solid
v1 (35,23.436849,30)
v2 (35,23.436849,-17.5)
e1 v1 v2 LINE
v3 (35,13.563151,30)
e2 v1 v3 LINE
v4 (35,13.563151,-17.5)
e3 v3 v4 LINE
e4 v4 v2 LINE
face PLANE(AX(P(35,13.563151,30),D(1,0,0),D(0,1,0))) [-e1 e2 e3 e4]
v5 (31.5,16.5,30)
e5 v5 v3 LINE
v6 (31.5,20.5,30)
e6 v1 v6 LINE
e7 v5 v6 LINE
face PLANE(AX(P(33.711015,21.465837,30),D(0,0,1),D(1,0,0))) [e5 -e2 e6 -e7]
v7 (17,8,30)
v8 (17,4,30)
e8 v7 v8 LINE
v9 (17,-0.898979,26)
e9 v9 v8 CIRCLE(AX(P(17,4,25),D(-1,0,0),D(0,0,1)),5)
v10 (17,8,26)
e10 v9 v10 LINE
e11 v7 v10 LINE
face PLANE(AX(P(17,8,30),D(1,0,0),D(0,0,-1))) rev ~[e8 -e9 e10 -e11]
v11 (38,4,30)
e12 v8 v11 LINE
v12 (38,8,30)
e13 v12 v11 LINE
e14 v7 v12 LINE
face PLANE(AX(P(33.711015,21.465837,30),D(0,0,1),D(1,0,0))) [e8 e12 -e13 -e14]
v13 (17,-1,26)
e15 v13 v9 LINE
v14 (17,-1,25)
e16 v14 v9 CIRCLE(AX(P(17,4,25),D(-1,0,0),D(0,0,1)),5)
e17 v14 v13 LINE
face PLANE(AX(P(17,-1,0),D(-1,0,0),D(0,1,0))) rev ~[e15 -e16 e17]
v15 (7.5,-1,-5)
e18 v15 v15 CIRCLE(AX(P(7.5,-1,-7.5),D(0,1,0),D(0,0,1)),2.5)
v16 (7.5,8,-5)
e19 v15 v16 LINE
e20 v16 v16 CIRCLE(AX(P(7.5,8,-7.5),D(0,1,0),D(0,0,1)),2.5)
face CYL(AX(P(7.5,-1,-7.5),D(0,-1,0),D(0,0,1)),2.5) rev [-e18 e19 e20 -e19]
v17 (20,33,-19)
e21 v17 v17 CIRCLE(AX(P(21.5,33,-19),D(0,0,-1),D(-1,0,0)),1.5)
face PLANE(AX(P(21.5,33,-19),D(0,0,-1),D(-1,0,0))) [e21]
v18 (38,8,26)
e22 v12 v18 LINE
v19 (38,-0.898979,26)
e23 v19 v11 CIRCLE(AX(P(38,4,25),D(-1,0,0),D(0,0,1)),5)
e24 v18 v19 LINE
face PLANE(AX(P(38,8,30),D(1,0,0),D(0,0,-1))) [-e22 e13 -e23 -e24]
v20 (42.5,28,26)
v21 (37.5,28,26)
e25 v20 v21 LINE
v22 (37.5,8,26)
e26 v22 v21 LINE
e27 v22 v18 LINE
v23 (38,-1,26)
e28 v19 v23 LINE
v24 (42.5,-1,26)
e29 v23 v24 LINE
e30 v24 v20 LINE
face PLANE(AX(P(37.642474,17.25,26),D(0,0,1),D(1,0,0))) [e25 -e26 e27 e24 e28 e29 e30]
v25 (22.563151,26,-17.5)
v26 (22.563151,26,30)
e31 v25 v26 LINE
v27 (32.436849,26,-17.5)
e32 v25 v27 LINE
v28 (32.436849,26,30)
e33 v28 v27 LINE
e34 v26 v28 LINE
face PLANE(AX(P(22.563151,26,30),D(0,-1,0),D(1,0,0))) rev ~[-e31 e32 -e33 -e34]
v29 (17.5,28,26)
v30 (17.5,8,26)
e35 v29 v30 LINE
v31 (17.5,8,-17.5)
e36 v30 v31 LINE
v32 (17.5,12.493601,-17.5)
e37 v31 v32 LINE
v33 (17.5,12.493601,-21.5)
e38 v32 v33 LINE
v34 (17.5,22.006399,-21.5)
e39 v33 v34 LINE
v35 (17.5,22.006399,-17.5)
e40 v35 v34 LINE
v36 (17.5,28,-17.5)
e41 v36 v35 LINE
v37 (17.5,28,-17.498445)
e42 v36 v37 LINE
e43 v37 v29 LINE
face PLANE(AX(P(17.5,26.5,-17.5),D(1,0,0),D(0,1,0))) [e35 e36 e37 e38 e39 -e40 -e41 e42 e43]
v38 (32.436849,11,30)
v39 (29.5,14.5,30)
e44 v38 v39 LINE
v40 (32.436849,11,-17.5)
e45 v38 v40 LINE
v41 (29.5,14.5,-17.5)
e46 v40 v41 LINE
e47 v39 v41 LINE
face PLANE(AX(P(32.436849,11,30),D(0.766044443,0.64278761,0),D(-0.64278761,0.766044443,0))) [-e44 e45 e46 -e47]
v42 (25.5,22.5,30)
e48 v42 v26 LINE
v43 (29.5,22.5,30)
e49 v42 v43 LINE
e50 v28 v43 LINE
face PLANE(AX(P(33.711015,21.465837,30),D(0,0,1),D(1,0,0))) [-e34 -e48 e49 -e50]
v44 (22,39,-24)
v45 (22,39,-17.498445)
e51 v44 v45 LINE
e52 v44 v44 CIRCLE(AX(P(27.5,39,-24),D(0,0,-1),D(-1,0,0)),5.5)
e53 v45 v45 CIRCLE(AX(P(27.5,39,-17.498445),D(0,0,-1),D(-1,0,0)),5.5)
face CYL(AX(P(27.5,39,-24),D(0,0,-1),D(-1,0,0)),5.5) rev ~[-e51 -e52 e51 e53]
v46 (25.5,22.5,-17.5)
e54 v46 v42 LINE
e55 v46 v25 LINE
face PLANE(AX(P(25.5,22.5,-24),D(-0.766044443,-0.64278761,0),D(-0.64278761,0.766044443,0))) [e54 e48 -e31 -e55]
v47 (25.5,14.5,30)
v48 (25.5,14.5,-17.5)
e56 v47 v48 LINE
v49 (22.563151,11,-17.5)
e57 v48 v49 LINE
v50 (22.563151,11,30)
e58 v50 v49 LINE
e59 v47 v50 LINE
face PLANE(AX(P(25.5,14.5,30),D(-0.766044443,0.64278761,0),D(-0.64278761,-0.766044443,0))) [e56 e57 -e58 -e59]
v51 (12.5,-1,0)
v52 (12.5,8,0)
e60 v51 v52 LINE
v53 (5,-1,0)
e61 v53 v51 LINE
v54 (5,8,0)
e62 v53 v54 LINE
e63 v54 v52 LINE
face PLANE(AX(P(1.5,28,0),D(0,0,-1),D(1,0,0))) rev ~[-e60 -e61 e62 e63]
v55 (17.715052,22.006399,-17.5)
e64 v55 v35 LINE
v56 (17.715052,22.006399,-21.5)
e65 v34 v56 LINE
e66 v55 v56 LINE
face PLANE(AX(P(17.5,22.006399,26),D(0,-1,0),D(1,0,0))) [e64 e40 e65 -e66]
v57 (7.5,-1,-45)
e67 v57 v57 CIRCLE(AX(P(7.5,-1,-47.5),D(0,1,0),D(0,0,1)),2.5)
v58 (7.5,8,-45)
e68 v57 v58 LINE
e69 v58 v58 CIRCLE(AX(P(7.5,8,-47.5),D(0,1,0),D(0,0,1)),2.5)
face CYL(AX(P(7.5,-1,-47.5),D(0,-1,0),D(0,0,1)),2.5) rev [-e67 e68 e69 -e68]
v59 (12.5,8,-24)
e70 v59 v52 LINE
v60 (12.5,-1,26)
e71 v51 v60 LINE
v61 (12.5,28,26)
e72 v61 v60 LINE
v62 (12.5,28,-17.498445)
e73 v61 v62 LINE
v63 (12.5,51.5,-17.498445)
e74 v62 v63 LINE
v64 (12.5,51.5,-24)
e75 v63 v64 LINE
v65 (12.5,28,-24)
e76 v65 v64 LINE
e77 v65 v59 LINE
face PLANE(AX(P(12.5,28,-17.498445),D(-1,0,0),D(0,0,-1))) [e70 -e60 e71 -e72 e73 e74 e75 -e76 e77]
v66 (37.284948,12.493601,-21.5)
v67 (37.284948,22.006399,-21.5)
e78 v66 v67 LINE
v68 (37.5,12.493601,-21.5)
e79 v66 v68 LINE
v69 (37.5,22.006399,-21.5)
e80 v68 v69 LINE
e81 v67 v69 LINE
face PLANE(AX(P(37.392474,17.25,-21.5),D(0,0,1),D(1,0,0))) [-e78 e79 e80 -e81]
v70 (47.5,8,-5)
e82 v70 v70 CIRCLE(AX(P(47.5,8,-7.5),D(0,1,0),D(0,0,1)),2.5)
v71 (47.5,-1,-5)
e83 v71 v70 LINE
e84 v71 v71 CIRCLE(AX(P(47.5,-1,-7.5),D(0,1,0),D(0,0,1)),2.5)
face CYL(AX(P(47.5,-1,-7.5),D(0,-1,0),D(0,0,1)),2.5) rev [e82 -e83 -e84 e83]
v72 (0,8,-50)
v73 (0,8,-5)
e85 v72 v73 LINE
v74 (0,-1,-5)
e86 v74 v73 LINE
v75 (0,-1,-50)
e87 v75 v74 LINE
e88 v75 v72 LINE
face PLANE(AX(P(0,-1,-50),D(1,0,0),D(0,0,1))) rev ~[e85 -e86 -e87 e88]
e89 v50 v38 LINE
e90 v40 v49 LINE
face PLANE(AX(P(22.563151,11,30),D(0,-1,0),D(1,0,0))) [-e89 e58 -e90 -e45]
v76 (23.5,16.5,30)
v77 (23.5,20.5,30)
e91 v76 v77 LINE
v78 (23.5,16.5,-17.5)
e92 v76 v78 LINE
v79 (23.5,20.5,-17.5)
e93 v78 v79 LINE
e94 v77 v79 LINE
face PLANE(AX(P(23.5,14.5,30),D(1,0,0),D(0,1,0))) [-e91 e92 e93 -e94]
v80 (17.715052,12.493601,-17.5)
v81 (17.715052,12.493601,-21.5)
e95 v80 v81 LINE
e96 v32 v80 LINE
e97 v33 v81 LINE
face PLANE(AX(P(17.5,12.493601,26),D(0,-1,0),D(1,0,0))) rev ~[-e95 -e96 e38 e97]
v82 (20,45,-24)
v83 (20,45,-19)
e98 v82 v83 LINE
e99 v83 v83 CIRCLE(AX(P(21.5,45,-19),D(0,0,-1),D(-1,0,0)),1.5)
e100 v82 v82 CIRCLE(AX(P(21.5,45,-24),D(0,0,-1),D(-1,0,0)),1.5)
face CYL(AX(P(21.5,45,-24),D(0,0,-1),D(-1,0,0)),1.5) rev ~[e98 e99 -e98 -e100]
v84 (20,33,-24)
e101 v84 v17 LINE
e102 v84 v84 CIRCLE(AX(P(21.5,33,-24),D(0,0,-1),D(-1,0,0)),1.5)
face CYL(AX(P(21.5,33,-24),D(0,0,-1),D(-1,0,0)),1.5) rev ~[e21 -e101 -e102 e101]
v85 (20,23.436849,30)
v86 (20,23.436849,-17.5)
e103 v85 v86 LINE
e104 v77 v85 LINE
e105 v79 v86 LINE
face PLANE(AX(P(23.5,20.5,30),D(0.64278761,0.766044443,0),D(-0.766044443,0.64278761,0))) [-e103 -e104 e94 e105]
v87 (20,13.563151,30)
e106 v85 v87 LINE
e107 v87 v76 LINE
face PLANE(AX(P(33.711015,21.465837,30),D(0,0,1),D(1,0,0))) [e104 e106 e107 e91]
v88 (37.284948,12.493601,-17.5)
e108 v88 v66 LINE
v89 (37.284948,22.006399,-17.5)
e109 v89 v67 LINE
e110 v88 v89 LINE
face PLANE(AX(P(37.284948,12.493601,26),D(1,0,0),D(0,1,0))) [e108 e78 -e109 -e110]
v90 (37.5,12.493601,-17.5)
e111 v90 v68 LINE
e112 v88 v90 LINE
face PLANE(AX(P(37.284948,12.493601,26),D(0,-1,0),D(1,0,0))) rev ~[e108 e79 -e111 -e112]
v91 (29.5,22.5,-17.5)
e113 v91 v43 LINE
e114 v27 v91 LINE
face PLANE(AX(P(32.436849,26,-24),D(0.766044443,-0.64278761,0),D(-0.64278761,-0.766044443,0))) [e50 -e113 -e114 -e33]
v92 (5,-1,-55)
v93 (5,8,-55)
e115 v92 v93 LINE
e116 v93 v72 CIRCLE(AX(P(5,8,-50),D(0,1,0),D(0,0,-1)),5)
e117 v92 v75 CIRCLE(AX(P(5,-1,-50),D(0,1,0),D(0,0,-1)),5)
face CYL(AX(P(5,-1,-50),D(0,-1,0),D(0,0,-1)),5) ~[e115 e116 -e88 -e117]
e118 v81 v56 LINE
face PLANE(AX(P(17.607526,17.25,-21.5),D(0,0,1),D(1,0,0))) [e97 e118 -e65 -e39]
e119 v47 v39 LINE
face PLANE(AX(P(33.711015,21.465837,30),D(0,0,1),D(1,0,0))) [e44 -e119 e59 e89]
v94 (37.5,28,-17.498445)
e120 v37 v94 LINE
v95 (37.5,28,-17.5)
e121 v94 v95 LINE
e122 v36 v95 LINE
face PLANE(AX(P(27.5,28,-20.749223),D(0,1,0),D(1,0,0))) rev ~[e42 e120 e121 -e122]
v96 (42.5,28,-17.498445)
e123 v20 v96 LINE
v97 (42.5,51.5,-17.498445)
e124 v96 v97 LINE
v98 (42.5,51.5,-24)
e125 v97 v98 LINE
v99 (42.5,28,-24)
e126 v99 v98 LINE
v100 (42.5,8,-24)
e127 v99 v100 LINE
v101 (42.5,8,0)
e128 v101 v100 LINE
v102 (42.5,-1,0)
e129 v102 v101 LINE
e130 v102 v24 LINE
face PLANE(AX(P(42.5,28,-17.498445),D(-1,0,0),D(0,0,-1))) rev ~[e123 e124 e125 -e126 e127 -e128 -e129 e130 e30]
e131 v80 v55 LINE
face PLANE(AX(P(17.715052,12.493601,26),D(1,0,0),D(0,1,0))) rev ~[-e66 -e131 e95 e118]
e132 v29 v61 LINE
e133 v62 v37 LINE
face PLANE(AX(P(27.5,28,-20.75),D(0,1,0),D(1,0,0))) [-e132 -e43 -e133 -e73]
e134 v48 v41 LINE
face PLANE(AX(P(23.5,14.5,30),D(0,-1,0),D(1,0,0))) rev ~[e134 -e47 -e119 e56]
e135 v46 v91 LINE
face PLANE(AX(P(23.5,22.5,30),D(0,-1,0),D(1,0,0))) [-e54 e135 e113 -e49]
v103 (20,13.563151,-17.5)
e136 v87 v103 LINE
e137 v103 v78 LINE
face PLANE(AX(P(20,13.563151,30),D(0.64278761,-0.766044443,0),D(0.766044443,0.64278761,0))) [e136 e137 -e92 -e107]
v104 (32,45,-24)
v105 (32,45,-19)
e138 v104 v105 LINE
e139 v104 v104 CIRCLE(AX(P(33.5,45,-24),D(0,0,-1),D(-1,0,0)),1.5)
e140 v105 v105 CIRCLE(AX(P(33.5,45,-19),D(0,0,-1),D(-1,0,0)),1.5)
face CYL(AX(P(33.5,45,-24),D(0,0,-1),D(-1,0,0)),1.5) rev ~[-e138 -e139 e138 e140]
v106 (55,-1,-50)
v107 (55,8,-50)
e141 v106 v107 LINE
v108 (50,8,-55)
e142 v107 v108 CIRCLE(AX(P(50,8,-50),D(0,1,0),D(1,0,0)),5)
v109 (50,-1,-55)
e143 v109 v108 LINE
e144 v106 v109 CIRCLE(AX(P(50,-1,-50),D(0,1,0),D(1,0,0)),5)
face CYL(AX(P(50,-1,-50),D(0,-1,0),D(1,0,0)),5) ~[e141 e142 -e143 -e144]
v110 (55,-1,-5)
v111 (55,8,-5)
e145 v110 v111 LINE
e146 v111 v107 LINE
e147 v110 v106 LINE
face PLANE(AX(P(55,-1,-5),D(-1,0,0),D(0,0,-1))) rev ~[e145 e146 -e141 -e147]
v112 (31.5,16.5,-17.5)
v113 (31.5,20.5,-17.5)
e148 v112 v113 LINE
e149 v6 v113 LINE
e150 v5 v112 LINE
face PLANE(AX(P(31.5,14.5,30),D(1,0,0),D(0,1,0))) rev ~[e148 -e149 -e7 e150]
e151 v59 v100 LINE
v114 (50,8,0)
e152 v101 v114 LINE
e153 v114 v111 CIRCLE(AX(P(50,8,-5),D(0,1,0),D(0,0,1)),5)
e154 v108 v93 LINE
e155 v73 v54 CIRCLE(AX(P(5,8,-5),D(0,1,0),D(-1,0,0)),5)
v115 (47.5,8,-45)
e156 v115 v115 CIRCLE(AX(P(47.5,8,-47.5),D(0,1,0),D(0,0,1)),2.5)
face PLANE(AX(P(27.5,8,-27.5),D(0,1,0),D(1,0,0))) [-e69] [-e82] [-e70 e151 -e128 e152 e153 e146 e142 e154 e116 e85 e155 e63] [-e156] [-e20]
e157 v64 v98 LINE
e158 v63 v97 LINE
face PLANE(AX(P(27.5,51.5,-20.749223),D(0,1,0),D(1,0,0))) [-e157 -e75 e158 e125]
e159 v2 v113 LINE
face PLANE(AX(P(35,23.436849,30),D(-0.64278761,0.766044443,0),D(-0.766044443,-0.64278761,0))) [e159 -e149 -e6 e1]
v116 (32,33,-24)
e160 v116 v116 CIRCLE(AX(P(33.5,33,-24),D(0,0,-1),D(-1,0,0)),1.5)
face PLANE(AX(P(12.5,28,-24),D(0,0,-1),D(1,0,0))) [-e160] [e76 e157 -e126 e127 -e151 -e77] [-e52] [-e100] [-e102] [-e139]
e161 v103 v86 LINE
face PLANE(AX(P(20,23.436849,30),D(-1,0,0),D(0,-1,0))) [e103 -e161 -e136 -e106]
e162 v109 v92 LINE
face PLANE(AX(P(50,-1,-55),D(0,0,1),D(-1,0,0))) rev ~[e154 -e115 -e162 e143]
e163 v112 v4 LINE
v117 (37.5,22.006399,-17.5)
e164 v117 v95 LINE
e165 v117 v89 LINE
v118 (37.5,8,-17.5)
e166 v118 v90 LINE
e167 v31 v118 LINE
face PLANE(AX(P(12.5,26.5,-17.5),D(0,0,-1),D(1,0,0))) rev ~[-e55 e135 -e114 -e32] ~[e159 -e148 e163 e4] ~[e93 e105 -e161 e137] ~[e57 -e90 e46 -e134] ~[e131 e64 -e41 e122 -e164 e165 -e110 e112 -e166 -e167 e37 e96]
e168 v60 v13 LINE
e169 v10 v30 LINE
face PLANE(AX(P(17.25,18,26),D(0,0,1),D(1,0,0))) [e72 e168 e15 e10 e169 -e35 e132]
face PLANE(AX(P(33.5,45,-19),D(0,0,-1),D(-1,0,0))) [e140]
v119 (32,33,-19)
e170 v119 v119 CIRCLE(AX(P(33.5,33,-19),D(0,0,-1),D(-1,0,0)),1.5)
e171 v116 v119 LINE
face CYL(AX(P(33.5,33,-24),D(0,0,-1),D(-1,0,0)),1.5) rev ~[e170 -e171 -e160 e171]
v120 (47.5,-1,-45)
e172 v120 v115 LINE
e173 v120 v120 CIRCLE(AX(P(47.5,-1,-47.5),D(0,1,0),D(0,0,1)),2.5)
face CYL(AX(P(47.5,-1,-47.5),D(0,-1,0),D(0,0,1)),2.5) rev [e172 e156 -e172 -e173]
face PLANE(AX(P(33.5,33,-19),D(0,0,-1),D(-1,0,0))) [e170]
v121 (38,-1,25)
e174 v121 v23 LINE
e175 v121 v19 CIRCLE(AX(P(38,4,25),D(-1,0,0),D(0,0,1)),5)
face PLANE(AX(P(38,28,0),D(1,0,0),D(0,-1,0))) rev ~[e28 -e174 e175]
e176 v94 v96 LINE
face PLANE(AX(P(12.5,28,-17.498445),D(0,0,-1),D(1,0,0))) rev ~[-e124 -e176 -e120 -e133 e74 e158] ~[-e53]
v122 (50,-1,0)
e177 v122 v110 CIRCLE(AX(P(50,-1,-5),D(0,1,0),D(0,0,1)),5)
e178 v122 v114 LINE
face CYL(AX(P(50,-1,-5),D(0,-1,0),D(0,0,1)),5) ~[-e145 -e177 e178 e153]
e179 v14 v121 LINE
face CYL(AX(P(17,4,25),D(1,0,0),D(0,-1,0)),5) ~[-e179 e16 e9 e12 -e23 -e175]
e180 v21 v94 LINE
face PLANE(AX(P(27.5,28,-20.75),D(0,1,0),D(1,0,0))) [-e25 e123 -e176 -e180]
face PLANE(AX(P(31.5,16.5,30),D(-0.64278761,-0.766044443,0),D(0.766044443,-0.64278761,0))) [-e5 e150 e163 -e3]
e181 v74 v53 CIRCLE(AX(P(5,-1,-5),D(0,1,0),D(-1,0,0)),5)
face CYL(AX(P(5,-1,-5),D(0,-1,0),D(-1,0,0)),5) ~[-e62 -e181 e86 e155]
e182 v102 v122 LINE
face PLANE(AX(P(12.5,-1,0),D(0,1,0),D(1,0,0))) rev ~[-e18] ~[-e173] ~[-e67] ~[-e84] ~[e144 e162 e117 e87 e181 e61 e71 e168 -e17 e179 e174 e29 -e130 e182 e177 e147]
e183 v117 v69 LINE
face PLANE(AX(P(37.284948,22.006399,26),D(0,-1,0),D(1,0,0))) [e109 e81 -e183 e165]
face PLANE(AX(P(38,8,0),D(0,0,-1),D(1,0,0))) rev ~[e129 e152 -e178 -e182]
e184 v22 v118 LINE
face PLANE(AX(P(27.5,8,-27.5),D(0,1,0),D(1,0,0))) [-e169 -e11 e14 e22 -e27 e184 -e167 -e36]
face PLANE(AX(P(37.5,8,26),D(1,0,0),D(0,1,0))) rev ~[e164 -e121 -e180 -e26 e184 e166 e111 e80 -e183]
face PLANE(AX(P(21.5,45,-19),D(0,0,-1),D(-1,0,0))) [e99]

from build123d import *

# Parameters (mm, degrees)
BOSS_EXTRUDE2_DEPTH       = 8
BOSS_EXTRUDE2_DEPTH_BACK  = 1
SKETCH1_R                 = 2.5
SKETCH5_W                 = 9
SKETCH5_H                 = 6.5
BOSS_EXTRUDE3_DEPTH       = 14.5
CUT_EXTRUDE4_DEPTH        = 1.5
SKETCH12_W                = 21
SKETCH12_H                = 30
BOSS_EXTRUDE7_DEPTH       = 9
SKETCH15_W                = 9
SKETCH15_H                = 6.5
BOSS_EXTRUDE8_DEPTH       = 3.5
BOSS_EXTRUDE9_DEPTH       = 54
FILLET4_R                 = 5
SKETCH18_W                = 9.873697418
SKETCH18_H                = 6.5
BOSS_EXTRUDE11_DEPTH      = 0.5
SKETCH20_W                = 4
SKETCH20_H                = 17.5
BOSS_EXTRUDE12_DEPTH      = 18
BOSS_EXTRUDE13_DEPTH      = 11
BOSS_EXTRUDE13_DEPTH_BACK = 4
SKETCH22_W                = 17.5
SKETCH22_H                = 4
SKETCH25_W                = 2
SKETCH25_H                = 17.5
BOSS_EXTRUDE14_DEPTH      = 41
SKETCH28_W                = 41
SKETCH28_H                = 45
BOSS_EXTRUDE15_DEPTH      = 2
SKETCH29_R                = 1.75
CUT_EXTRUDE8_DEPTH        = 9
BOSS_EXTRUDE16_DEPTH      = 9
BOSS_EXTRUDE16_DEPTH_BACK = 4
SKETCH30_W                = 17.5
SKETCH30_H                = 4
SKETCH31_R                = 10
CUT_EXTRUDE9_DEPTH        = 9
SKETCH32_W                = 13
SKETCH32_H                = 4
BOSS_EXTRUDE17_DEPTH      = 23.5
SKETCH33_W                = 0.5
SKETCH33_H                = 17.5
BOSS_EXTRUDE18_DEPTH      = 20
BOSS_EXTRUDE19_DEPTH      = 26
SKETCH35_W                = 9.873697418
SKETCH35_H                = 0.5
BOSS_EXTRUDE20_DEPTH      = 47.5
BOSS_EXTRUDE21_DEPTH      = 47.5
SKETCH38_W                = 0.419549816
SKETCH38_H                = 18.5
CUT_EXTRUDE10_DEPTH       = 90.5
BOSS_EXTRUDE23_DEPTH      = 47.5
SKETCH48_W                = 15.5
SKETCH48_H                = 6.5
BOSS_EXTRUDE31_DEPTH      = 18.5
SKETCH51_W                = 9.626242636
SKETCH51_H                = 9.125298808
BOSS_EXTRUDE32_DEPTH      = 1.5
SKETCH54_W                = 8
SKETCH54_H                = 8
BOSS_EXTRUDE35_DEPTH      = 47.5
SKETCH55_W                = 9.873697418
SKETCH55_H                = 0.5
CUT_EXTRUDE12_DEPTH       = 47.5
SKETCH56_W                = 0.5
SKETCH56_H                = 20
BOSS_EXTRUDE36_DEPTH      = 43.5
BOSS_EXTRUDE37_DEPTH      = 47.5
SKETCH58_W                = 0.715052156
SKETCH58_H                = 9.51279705
CUT_EXTRUDE13_DEPTH       = 4
CUT_EXTRUDE15_DEPTH       = 47.5
SKETCH60_W                = 0.215052156
SKETCH60_H                = 9.51279705
CUT_EXTRUDE16_DEPTH       = 47.5
CUT_EXTRUDE17_DEPTH       = 47.5
SKETCH62_W                = 8
SKETCH62_H                = 8
CUT_EXTRUDE18_DEPTH       = 47.5
SKETCH63_W                = 13
SKETCH63_H                = 4
CUT_EXTRUDE20_DEPTH       = 17
SKETCH64_W                = 1
SKETCH64_H                = 1.5
BOSS_EXTRUDE38_DEPTH      = 6.5
SKETCH68_W                = 2
SKETCH68_H                = 45
CUT_EXTRUDE23_DEPTH       = 17
SKETCH69_W                = 2
SKETCH69_H                = 41
CUT_EXTRUDE24_DEPTH       = 37
CUT_EXTRUDE25_DEPTH       = 6.5
SKETCH72_W                = 43.5
SKETCH72_H                = 4
CUT_EXTRUDE26_DEPTH       = 11
SKETCH73_W                = 43.5
SKETCH73_H                = 4
CUT_EXTRUDE27_DEPTH       = 9
SKETCH74_W                = 6.5
SKETCH74_H                = 18.5
CUT_EXTRUDE28_DEPTH       = 5
SKETCH75_W                = 6.5
SKETCH75_H                = 18.5
CUT_EXTRUDE30_DEPTH       = 5
SKETCH76_W                = 30
SKETCH76_H                = 6.5
BOSS_EXTRUDE39_DEPTH      = 1.5
SKETCH81_W                = 30
SKETCH81_H                = 6.501554737
BOSS_EXTRUDE44_DEPTH      = 23.5
SKETCH82_R                = 1.5
CUT_EXTRUDE31_DEPTH       = 5
CUT_EXTRUDE32_REACH       = 94.7
SKETCH82_4_R              = 5.5


with BuildPart() as part:
    # Sketch1 → Boss-Extrude2 (new, two sides: drawn at the far end of the back side and taken through both)
    with BuildSketch(Plane(origin=(0, 0, 0), x_dir=(1, 0, 0), z_dir=(0, 1, 0)).offset(-BOSS_EXTRUDE2_DEPTH_BACK)):
        with BuildLine():
            Line((5, 0), (50, 0))
            ThreePointArc((50, 0), (53.535533906, 1.464466094), (55, 5))
            Line((55, 5), (55, 50))
            ThreePointArc((55, 50), (53.535533906, 53.535533906), (50, 55))
            Line((50, 55), (5, 55))
            ThreePointArc((5, 55), (1.464466094, 53.535533906), (0, 50))
            Line((0, 50), (0, 5))
            ThreePointArc((0, 5), (1.464466094, 1.464466094), (5, 0))
        make_face()
        with Locations((7.5, 47.5)):
            Circle(SKETCH1_R, mode=Mode.SUBTRACT)
        with Locations((47.5, 47.5)):
            Circle(SKETCH1_R, mode=Mode.SUBTRACT)
        with Locations((47.5, 7.5)):
            Circle(SKETCH1_R, mode=Mode.SUBTRACT)
        with Locations((7.5, 7.5)):
            Circle(SKETCH1_R, mode=Mode.SUBTRACT)
    extrude(amount=BOSS_EXTRUDE2_DEPTH + BOSS_EXTRUDE2_DEPTH_BACK)

    # Sketch5 → Boss-Extrude3 (add)
    with BuildSketch(Plane(origin=(0, 8, 0), x_dir=(1, 0, 0), z_dir=(0, 1, 0))):
        with Locations((27.5, 20.75)):
            Rectangle(SKETCH5_W, SKETCH5_H)
    extrude(amount=BOSS_EXTRUDE3_DEPTH)

    # Sketch6 → Cut-Extrude4 (cut)
    with BuildSketch(Plane(origin=(0, 0, -24), x_dir=(-1, 0, 0), z_dir=(0, 0, -1))):
        with BuildLine():
            ThreePointArc((-27.5, 13), (-24.671572875, 14.171572875), (-23.5, 17))
            ThreePointArc((-23.5, 17), (-30.328427125, 19.828427125), (-27.5, 13))
        make_face()
    extrude(amount=-CUT_EXTRUDE4_DEPTH, mode=Mode.SUBTRACT)

    # Sketch12 → Boss-Extrude7 (add)
    with BuildSketch(Plane(origin=(0, 8, 0), x_dir=(1, 0, 0), z_dir=(0, 1, 0))):
        with Locations((27.5, -15)):
            Rectangle(SKETCH12_W, SKETCH12_H)
    extrude(amount=-BOSS_EXTRUDE7_DEPTH)

    # Sketch15 → Boss-Extrude8 (add)
    with BuildSketch(Plane(origin=(0, 22.5, 0), x_dir=(1, 0, 0), z_dir=(0, 1, 0))):
        with Locations((27.5, 20.75)):
            Rectangle(SKETCH15_W, SKETCH15_H)
    extrude(amount=BOSS_EXTRUDE8_DEPTH)

    # Sketch11 → Boss-Extrude9 (add)
    with BuildSketch(Plane(origin=(0, 0, -24), x_dir=(-1, 0, 0), z_dir=(0, 0, -1))):
        Polygon((-29.5, 22.5), (-25.5, 22.5), (-22.563151291, 26), (-32.436848709, 26), align=None)
    extrude(amount=-BOSS_EXTRUDE9_DEPTH)

    # Fillet4
    fillet4_edges = [part.edges().sort_by_distance(p)[0] for p in [
        (27.5, -1, 30),
    ]]
    fillet(fillet4_edges, radius=FILLET4_R)

    # Sketch18 → Boss-Extrude11 (add)
    with BuildSketch(Plane(origin=(0, 26, 0), x_dir=(1, 0, 0), z_dir=(0, 1, 0))):
        with Locations((27.5, 20.75)):
            Rectangle(SKETCH18_W, SKETCH18_H)
    extrude(amount=BOSS_EXTRUDE11_DEPTH)

    # Sketch20 → Boss-Extrude12 (add)
    with BuildSketch(Plane(origin=(0, 8, 0), x_dir=(1, 0, 0), z_dir=(0, 1, 0))):
        with Locations((14.5, 8.75)):
            Rectangle(SKETCH20_W, SKETCH20_H)
        with Locations((40.5, 8.75)):
            Rectangle(SKETCH20_W, SKETCH20_H)
    extrude(amount=BOSS_EXTRUDE12_DEPTH)

    # Sketch22 → Boss-Extrude13 (add, two sides: drawn at the far end of the back side and taken through both)
    with BuildSketch(Plane.ZY.offset(-12.5).offset(-BOSS_EXTRUDE13_DEPTH_BACK)):
        with Locations((-8.75, 26)):
            Rectangle(SKETCH22_W, SKETCH22_H)
    extrude(amount=BOSS_EXTRUDE13_DEPTH + BOSS_EXTRUDE13_DEPTH_BACK)

    # Sketch25 → Boss-Extrude14 (add)
    with BuildSketch(Plane(origin=(0, 28, 0), x_dir=(1, 0, 0), z_dir=(0, 1, 0))):
        with Locations((2.5, 8.75)):
            Rectangle(SKETCH25_W, SKETCH25_H)
    extrude(amount=BOSS_EXTRUDE14_DEPTH)

    # Sketch28 → Boss-Extrude15 (add)
    with BuildSketch(Plane.ZY.offset(-1.5)):
        with Locations((-20.5, 46.5)):
            Rectangle(SKETCH28_W, SKETCH28_H)
    extrude(amount=-BOSS_EXTRUDE15_DEPTH)

    # Sketch29 → Cut-Extrude8 (cut)
    with BuildSketch(Plane.ZY.offset(-1.5)):
        with Locations((-5, 33)):
            Circle(SKETCH29_R)
        with Locations((-36, 33)):
            Circle(SKETCH29_R)
        with Locations((-36, 64)):
            Circle(SKETCH29_R)
        with Locations((-5, 64)):
            Circle(SKETCH29_R)
    extrude(amount=-CUT_EXTRUDE8_DEPTH, mode=Mode.SUBTRACT)

    # Sketch30 → Boss-Extrude16 (add, two sides: drawn at the far end of the back side and taken through both)
    with BuildSketch(Plane(origin=(42.5, 0, 0), x_dir=(0, 0, -1), z_dir=(1, 0, 0)).offset(-BOSS_EXTRUDE16_DEPTH_BACK)):
        with Locations((8.75, 26)):
            Rectangle(SKETCH30_W, SKETCH30_H)
    extrude(amount=BOSS_EXTRUDE16_DEPTH + BOSS_EXTRUDE16_DEPTH_BACK)

    # Sketch31 → Cut-Extrude9 (cut)
    with BuildSketch(Plane(origin=(3.5, 0, 0), x_dir=(0, 0, -1), z_dir=(1, 0, 0))):
        with Locations((20.5, 47)):
            Circle(SKETCH31_R)
    extrude(amount=-CUT_EXTRUDE9_DEPTH, mode=Mode.SUBTRACT)

    # Sketch32 → Boss-Extrude17 (add)
    with BuildSketch(Plane(origin=(0, 0, -17.5), x_dir=(-1, 0, 0), z_dir=(0, 0, -1))):
        with Locations((-10, 26)):
            Rectangle(SKETCH32_W, SKETCH32_H)
    extrude(amount=BOSS_EXTRUDE17_DEPTH)

    # Sketch33 → Boss-Extrude18 (add)
    with BuildSketch(Plane(origin=(0, 8, 0), x_dir=(1, 0, 0), z_dir=(0, 1, 0))):
        with Locations((38.25, 8.75)):
            Rectangle(SKETCH33_W, SKETCH33_H)
        with Locations((16.75, 8.75)):
            Rectangle(SKETCH33_W, SKETCH33_H)
    extrude(amount=BOSS_EXTRUDE18_DEPTH)

    # Sketch34 → Boss-Extrude19 (add)
    with BuildSketch(Plane.XY):
        Polygon((51.5, 24), (51.5, 28), (38, 28), (38, -1), (42.5, -1), (42.5, 24), align=None)
        Polygon((17, 28), (1.5, 28), (1.5, 24), (12.5, 24), (12.5, -1), (17, -1), align=None)
    extrude(amount=BOSS_EXTRUDE19_DEPTH)

    # Sketch35 → Boss-Extrude20 (add)
    with BuildSketch(Plane.XY.offset(-17.5)):
        with Locations((27.5, 26.25)):
            Rectangle(SKETCH35_W, SKETCH35_H)
    extrude(amount=BOSS_EXTRUDE20_DEPTH)

    # Sketch37 → Boss-Extrude21 (add)
    with BuildSketch(Plane.XY.offset(-17.5)):
        Polygon((29.5, 12), (25.5, 12), (21.863844179, 7.666598237), (33.136155821, 7.666598237), align=None)
    extrude(amount=BOSS_EXTRUDE21_DEPTH)

    # Sketch38 → Cut-Extrude10 (cut)
    with BuildSketch(Plane.XY.offset(30)):
        with Locations((22.353376383, 17.25)):
            Rectangle(SKETCH38_W, SKETCH38_H)
        with Locations((32.646623617, 17.25)):
            Rectangle(SKETCH38_W, SKETCH38_H)
    extrude(amount=-CUT_EXTRUDE10_DEPTH, mode=Mode.SUBTRACT)

    # Sketch39 → Boss-Extrude23 (add)
    with BuildSketch(Plane.XY.offset(30)):
        Polygon((38, 22.006398525), (37.284947844, 22.006398525), (34, 19.25), (34, 15.25), (37.284947844, 12.493601475), (38, 12.493601475), align=None)
        Polygon((21, 19.25), (17.715052156, 22.006398525), (17, 22.006398525), (17, 12.493601475), (17.715052156, 12.493601475), (21, 15.25), align=None)
    extrude(amount=-BOSS_EXTRUDE23_DEPTH)

    # Sketch48 → Boss-Extrude31 (add)
    with BuildSketch(Plane(origin=(0, 8, 0), x_dir=(1, 0, 0), z_dir=(0, 1, 0))):
        with Locations((15.25, 20.75)):
            Rectangle(SKETCH48_W, SKETCH48_H)
        with Locations((39.75, 20.75)):
            Rectangle(SKETCH48_W, SKETCH48_H)
    extrude(amount=BOSS_EXTRUDE31_DEPTH)

    # Sketch51 → Boss-Extrude32 (add)
    with BuildSketch(Plane(origin=(0, 0, -24), x_dir=(-1, 0, 0), z_dir=(0, 0, -1))):
        with Locations((-27.646184708, 17.114099589)):
            Rectangle(SKETCH51_W, SKETCH51_H)
    extrude(amount=-BOSS_EXTRUDE32_DEPTH)

    # Sketch54 → Boss-Extrude35 (add)
    with BuildSketch(Plane.XY.offset(-17.5)):
        with Locations((27.5, 18.5)):
            Rectangle(SKETCH54_W, SKETCH54_H)
    extrude(amount=BOSS_EXTRUDE35_DEPTH)

    # Sketch55 → Cut-Extrude12 (cut)
    with BuildSketch(Plane.XY.offset(30)):
        with Locations((27.5, 26.25)):
            Rectangle(SKETCH55_W, SKETCH55_H)
    extrude(amount=-CUT_EXTRUDE12_DEPTH, mode=Mode.SUBTRACT)

    # Sketch56 → Boss-Extrude36 (add)
    with BuildSketch(Plane.XY.offset(26)):
        with Locations((37.75, 18)):
            Rectangle(SKETCH56_W, SKETCH56_H)
        with Locations((17.25, 18)):
            Rectangle(SKETCH56_W, SKETCH56_H)
    extrude(amount=-BOSS_EXTRUDE36_DEPTH)

    # Sketch57 → Boss-Extrude37 (add)
    with BuildSketch(Plane.XY.offset(30)):
        Polygon((35, 23.436848709), (31.5, 20.5), (31.5, 16.5), (35, 13.563151291), align=None)
        Polygon((20, 13.563151291), (23.5, 16.5), (23.5, 20.5), (20, 23.436848709), align=None)
        Polygon((32.436848709, 11), (29.5, 14.5), (25.5, 14.5), (22.563151291, 11), align=None)
    extrude(amount=-BOSS_EXTRUDE37_DEPTH)

    # Sketch58 → Cut-Extrude13 (cut)
    with BuildSketch(Plane.XY.offset(30)):
        with Locations((37.642473922, 17.25)):
            Rectangle(SKETCH58_W, SKETCH58_H)
        with Locations((17.357526078, 17.25)):
            Rectangle(SKETCH58_W, SKETCH58_H)
    extrude(amount=-CUT_EXTRUDE13_DEPTH, mode=Mode.SUBTRACT)

    # Sketch59 → Cut-Extrude15 (cut)
    with BuildSketch(Plane.XY.offset(30)):
        Polygon((37.284947844, 22.006398525), (35, 20.089099631), (35, 14.410900369), (37.284947844, 12.493601475), align=None)
        Polygon((17.715052156, 22.006398525), (20, 20.089099631), (20, 14.410900369), (17.715052156, 12.493601475), align=None)
    extrude(amount=-CUT_EXTRUDE15_DEPTH, mode=Mode.SUBTRACT)

    # Sketch60 → Cut-Extrude16 (cut)
    with BuildSketch(Plane.XY.offset(26)):
        with Locations((37.392473922, 17.25)):
            Rectangle(SKETCH60_W, SKETCH60_H)
        with Locations((17.607526078, 17.25)):
            Rectangle(SKETCH60_W, SKETCH60_H)
    extrude(amount=-CUT_EXTRUDE16_DEPTH, mode=Mode.SUBTRACT)

    # Sketch61 → Cut-Extrude17 (cut)
    with BuildSketch(Plane.XY.offset(30)):
        Polygon((32.436848709, 8), (22.563151291, 8), (22.563151291, 8.5), (24.660900369, 11), (30.339099631, 11), (32.436848709, 8.5), align=None)
    extrude(amount=-CUT_EXTRUDE17_DEPTH, mode=Mode.SUBTRACT)

    # Sketch62 → Cut-Extrude18 (cut)
    with BuildSketch(Plane.XY.offset(30)):
        with Locations((27.5, 18.5)):
            Rectangle(SKETCH62_W, SKETCH62_H)
    extrude(amount=-CUT_EXTRUDE18_DEPTH, mode=Mode.SUBTRACT)

    # Sketch63 → Cut-Extrude20 (cut)
    with BuildSketch(Plane(origin=(0, 0, -41), x_dir=(-1, 0, 0), z_dir=(0, 0, -1))):
        with Locations((-10, 26)):
            Rectangle(SKETCH63_W, SKETCH63_H)
    extrude(amount=-CUT_EXTRUDE20_DEPTH, mode=Mode.SUBTRACT)

    # Sketch64 → Boss-Extrude38 (add)
    with BuildSketch(Plane(origin=(0, 0, -17.5), x_dir=(-1, 0, 0), z_dir=(0, 0, -1))):
        with Locations((-17, 27.25)):
            Rectangle(SKETCH64_W, SKETCH64_H)
    extrude(amount=BOSS_EXTRUDE38_DEPTH)

    # Sketch68 → Cut-Extrude23 (cut)
    with BuildSketch(Plane(origin=(0, 0, -41), x_dir=(-1, 0, 0), z_dir=(0, 0, -1))):
        with Locations((-2.5, 46.5)):
            Rectangle(SKETCH68_W, SKETCH68_H)
    extrude(amount=-CUT_EXTRUDE23_DEPTH, mode=Mode.SUBTRACT)

    # Sketch69 → Cut-Extrude24 (cut)
    with BuildSketch(Plane(origin=(0, 0, -24), x_dir=(-1, 0, 0), z_dir=(0, 0, -1))):
        with Locations((-2.5, 48.5)):
            Rectangle(SKETCH69_W, SKETCH69_H)
    extrude(amount=-CUT_EXTRUDE24_DEPTH, mode=Mode.SUBTRACT)

    # Sketch70 → Cut-Extrude25 (cut)
    with BuildSketch(Plane(origin=(0, 0, -24), x_dir=(-1, 0, 0), z_dir=(0, 0, -1))):
        Polygon((-17.5, 28), (-17.5, 26.5), (-7.5, 26.5), (-7.5, 24), (-1.5, 24), (-1.5, 28), align=None)
    extrude(amount=-CUT_EXTRUDE25_DEPTH, mode=Mode.SUBTRACT)

    # Sketch72 → Cut-Extrude26 (cut)
    with BuildSketch(Plane.ZY.offset(-1.5)):
        with Locations((4.25, 26)):
            Rectangle(SKETCH72_W, SKETCH72_H)
    extrude(amount=-CUT_EXTRUDE26_DEPTH, mode=Mode.SUBTRACT)

    # Sketch73 → Cut-Extrude27 (cut)
    with BuildSketch(Plane(origin=(51.5, 0, 0), x_dir=(0, 0, -1), z_dir=(1, 0, 0))):
        with Locations((-4.25, 26)):
            Rectangle(SKETCH73_W, SKETCH73_H)
    extrude(amount=-CUT_EXTRUDE27_DEPTH, mode=Mode.SUBTRACT)

    # Sketch74 → Cut-Extrude28 (cut)
    with BuildSketch(Plane.ZY.offset(-7.5)):
        with Locations((-20.75, 17.25)):
            Rectangle(SKETCH74_W, SKETCH74_H)
    extrude(amount=-CUT_EXTRUDE28_DEPTH, mode=Mode.SUBTRACT)

    # Sketch75 → Cut-Extrude30 (cut)
    with BuildSketch(Plane(origin=(47.5, 0, 0), x_dir=(0, 0, -1), z_dir=(1, 0, 0))):
        with Locations((20.75, 17.25)):
            Rectangle(SKETCH75_W, SKETCH75_H)
    extrude(amount=-CUT_EXTRUDE30_DEPTH, mode=Mode.SUBTRACT)

    # Sketch76 → Boss-Extrude39 (add)
    with BuildSketch(Plane(origin=(0, 26.5, 0), x_dir=(1, 0, 0), z_dir=(0, 1, 0))):
        with Locations((27.5, 20.75)):
            Rectangle(SKETCH76_W, SKETCH76_H)
    extrude(amount=BOSS_EXTRUDE39_DEPTH)

    # Sketch81 → Boss-Extrude44 (add)
    with BuildSketch(Plane(origin=(0, 28, 0), x_dir=(1, 0, 0), z_dir=(0, 1, 0))):
        with Locations((27.5, 20.749222632)):
            Rectangle(SKETCH81_W, SKETCH81_H)
    extrude(amount=BOSS_EXTRUDE44_DEPTH)

    # Sketch82 → Cut-Extrude31 (cut)
    with BuildSketch(Plane(origin=(0, 0, -24), x_dir=(-1, 0, 0), z_dir=(0, 0, -1))):
        with Locations((-33.5, 45)):
            Circle(SKETCH82_R)
        with Locations((-21.5, 45)):
            Circle(SKETCH82_R)
        with Locations((-21.5, 33)):
            Circle(SKETCH82_R)
        with Locations((-33.5, 33)):
            Circle(SKETCH82_R)
    extrude(amount=-CUT_EXTRUDE31_DEPTH, mode=Mode.SUBTRACT)

    # Sketch82<4> → Cut-Extrude32 (cut, up to next)
    with BuildSketch(Plane(origin=(0, 0, -24), x_dir=(-1, 0, 0), z_dir=(0, 0, -1)), mode=Mode.PRIVATE) as cut_extrude32_sk1:
        with Locations((-27.5, 39)):
            Circle(SKETCH82_4_R)
    cut_extrude32_tool1 = extrude(cut_extrude32_sk1.sketch, amount=-CUT_EXTRUDE32_REACH, mode=Mode.PRIVATE) & part.part
    add(cut_extrude32_tool1.solids().sort_by_distance((27.5, 39, -24))[0], mode=Mode.SUBTRACT)


solid = part.part
